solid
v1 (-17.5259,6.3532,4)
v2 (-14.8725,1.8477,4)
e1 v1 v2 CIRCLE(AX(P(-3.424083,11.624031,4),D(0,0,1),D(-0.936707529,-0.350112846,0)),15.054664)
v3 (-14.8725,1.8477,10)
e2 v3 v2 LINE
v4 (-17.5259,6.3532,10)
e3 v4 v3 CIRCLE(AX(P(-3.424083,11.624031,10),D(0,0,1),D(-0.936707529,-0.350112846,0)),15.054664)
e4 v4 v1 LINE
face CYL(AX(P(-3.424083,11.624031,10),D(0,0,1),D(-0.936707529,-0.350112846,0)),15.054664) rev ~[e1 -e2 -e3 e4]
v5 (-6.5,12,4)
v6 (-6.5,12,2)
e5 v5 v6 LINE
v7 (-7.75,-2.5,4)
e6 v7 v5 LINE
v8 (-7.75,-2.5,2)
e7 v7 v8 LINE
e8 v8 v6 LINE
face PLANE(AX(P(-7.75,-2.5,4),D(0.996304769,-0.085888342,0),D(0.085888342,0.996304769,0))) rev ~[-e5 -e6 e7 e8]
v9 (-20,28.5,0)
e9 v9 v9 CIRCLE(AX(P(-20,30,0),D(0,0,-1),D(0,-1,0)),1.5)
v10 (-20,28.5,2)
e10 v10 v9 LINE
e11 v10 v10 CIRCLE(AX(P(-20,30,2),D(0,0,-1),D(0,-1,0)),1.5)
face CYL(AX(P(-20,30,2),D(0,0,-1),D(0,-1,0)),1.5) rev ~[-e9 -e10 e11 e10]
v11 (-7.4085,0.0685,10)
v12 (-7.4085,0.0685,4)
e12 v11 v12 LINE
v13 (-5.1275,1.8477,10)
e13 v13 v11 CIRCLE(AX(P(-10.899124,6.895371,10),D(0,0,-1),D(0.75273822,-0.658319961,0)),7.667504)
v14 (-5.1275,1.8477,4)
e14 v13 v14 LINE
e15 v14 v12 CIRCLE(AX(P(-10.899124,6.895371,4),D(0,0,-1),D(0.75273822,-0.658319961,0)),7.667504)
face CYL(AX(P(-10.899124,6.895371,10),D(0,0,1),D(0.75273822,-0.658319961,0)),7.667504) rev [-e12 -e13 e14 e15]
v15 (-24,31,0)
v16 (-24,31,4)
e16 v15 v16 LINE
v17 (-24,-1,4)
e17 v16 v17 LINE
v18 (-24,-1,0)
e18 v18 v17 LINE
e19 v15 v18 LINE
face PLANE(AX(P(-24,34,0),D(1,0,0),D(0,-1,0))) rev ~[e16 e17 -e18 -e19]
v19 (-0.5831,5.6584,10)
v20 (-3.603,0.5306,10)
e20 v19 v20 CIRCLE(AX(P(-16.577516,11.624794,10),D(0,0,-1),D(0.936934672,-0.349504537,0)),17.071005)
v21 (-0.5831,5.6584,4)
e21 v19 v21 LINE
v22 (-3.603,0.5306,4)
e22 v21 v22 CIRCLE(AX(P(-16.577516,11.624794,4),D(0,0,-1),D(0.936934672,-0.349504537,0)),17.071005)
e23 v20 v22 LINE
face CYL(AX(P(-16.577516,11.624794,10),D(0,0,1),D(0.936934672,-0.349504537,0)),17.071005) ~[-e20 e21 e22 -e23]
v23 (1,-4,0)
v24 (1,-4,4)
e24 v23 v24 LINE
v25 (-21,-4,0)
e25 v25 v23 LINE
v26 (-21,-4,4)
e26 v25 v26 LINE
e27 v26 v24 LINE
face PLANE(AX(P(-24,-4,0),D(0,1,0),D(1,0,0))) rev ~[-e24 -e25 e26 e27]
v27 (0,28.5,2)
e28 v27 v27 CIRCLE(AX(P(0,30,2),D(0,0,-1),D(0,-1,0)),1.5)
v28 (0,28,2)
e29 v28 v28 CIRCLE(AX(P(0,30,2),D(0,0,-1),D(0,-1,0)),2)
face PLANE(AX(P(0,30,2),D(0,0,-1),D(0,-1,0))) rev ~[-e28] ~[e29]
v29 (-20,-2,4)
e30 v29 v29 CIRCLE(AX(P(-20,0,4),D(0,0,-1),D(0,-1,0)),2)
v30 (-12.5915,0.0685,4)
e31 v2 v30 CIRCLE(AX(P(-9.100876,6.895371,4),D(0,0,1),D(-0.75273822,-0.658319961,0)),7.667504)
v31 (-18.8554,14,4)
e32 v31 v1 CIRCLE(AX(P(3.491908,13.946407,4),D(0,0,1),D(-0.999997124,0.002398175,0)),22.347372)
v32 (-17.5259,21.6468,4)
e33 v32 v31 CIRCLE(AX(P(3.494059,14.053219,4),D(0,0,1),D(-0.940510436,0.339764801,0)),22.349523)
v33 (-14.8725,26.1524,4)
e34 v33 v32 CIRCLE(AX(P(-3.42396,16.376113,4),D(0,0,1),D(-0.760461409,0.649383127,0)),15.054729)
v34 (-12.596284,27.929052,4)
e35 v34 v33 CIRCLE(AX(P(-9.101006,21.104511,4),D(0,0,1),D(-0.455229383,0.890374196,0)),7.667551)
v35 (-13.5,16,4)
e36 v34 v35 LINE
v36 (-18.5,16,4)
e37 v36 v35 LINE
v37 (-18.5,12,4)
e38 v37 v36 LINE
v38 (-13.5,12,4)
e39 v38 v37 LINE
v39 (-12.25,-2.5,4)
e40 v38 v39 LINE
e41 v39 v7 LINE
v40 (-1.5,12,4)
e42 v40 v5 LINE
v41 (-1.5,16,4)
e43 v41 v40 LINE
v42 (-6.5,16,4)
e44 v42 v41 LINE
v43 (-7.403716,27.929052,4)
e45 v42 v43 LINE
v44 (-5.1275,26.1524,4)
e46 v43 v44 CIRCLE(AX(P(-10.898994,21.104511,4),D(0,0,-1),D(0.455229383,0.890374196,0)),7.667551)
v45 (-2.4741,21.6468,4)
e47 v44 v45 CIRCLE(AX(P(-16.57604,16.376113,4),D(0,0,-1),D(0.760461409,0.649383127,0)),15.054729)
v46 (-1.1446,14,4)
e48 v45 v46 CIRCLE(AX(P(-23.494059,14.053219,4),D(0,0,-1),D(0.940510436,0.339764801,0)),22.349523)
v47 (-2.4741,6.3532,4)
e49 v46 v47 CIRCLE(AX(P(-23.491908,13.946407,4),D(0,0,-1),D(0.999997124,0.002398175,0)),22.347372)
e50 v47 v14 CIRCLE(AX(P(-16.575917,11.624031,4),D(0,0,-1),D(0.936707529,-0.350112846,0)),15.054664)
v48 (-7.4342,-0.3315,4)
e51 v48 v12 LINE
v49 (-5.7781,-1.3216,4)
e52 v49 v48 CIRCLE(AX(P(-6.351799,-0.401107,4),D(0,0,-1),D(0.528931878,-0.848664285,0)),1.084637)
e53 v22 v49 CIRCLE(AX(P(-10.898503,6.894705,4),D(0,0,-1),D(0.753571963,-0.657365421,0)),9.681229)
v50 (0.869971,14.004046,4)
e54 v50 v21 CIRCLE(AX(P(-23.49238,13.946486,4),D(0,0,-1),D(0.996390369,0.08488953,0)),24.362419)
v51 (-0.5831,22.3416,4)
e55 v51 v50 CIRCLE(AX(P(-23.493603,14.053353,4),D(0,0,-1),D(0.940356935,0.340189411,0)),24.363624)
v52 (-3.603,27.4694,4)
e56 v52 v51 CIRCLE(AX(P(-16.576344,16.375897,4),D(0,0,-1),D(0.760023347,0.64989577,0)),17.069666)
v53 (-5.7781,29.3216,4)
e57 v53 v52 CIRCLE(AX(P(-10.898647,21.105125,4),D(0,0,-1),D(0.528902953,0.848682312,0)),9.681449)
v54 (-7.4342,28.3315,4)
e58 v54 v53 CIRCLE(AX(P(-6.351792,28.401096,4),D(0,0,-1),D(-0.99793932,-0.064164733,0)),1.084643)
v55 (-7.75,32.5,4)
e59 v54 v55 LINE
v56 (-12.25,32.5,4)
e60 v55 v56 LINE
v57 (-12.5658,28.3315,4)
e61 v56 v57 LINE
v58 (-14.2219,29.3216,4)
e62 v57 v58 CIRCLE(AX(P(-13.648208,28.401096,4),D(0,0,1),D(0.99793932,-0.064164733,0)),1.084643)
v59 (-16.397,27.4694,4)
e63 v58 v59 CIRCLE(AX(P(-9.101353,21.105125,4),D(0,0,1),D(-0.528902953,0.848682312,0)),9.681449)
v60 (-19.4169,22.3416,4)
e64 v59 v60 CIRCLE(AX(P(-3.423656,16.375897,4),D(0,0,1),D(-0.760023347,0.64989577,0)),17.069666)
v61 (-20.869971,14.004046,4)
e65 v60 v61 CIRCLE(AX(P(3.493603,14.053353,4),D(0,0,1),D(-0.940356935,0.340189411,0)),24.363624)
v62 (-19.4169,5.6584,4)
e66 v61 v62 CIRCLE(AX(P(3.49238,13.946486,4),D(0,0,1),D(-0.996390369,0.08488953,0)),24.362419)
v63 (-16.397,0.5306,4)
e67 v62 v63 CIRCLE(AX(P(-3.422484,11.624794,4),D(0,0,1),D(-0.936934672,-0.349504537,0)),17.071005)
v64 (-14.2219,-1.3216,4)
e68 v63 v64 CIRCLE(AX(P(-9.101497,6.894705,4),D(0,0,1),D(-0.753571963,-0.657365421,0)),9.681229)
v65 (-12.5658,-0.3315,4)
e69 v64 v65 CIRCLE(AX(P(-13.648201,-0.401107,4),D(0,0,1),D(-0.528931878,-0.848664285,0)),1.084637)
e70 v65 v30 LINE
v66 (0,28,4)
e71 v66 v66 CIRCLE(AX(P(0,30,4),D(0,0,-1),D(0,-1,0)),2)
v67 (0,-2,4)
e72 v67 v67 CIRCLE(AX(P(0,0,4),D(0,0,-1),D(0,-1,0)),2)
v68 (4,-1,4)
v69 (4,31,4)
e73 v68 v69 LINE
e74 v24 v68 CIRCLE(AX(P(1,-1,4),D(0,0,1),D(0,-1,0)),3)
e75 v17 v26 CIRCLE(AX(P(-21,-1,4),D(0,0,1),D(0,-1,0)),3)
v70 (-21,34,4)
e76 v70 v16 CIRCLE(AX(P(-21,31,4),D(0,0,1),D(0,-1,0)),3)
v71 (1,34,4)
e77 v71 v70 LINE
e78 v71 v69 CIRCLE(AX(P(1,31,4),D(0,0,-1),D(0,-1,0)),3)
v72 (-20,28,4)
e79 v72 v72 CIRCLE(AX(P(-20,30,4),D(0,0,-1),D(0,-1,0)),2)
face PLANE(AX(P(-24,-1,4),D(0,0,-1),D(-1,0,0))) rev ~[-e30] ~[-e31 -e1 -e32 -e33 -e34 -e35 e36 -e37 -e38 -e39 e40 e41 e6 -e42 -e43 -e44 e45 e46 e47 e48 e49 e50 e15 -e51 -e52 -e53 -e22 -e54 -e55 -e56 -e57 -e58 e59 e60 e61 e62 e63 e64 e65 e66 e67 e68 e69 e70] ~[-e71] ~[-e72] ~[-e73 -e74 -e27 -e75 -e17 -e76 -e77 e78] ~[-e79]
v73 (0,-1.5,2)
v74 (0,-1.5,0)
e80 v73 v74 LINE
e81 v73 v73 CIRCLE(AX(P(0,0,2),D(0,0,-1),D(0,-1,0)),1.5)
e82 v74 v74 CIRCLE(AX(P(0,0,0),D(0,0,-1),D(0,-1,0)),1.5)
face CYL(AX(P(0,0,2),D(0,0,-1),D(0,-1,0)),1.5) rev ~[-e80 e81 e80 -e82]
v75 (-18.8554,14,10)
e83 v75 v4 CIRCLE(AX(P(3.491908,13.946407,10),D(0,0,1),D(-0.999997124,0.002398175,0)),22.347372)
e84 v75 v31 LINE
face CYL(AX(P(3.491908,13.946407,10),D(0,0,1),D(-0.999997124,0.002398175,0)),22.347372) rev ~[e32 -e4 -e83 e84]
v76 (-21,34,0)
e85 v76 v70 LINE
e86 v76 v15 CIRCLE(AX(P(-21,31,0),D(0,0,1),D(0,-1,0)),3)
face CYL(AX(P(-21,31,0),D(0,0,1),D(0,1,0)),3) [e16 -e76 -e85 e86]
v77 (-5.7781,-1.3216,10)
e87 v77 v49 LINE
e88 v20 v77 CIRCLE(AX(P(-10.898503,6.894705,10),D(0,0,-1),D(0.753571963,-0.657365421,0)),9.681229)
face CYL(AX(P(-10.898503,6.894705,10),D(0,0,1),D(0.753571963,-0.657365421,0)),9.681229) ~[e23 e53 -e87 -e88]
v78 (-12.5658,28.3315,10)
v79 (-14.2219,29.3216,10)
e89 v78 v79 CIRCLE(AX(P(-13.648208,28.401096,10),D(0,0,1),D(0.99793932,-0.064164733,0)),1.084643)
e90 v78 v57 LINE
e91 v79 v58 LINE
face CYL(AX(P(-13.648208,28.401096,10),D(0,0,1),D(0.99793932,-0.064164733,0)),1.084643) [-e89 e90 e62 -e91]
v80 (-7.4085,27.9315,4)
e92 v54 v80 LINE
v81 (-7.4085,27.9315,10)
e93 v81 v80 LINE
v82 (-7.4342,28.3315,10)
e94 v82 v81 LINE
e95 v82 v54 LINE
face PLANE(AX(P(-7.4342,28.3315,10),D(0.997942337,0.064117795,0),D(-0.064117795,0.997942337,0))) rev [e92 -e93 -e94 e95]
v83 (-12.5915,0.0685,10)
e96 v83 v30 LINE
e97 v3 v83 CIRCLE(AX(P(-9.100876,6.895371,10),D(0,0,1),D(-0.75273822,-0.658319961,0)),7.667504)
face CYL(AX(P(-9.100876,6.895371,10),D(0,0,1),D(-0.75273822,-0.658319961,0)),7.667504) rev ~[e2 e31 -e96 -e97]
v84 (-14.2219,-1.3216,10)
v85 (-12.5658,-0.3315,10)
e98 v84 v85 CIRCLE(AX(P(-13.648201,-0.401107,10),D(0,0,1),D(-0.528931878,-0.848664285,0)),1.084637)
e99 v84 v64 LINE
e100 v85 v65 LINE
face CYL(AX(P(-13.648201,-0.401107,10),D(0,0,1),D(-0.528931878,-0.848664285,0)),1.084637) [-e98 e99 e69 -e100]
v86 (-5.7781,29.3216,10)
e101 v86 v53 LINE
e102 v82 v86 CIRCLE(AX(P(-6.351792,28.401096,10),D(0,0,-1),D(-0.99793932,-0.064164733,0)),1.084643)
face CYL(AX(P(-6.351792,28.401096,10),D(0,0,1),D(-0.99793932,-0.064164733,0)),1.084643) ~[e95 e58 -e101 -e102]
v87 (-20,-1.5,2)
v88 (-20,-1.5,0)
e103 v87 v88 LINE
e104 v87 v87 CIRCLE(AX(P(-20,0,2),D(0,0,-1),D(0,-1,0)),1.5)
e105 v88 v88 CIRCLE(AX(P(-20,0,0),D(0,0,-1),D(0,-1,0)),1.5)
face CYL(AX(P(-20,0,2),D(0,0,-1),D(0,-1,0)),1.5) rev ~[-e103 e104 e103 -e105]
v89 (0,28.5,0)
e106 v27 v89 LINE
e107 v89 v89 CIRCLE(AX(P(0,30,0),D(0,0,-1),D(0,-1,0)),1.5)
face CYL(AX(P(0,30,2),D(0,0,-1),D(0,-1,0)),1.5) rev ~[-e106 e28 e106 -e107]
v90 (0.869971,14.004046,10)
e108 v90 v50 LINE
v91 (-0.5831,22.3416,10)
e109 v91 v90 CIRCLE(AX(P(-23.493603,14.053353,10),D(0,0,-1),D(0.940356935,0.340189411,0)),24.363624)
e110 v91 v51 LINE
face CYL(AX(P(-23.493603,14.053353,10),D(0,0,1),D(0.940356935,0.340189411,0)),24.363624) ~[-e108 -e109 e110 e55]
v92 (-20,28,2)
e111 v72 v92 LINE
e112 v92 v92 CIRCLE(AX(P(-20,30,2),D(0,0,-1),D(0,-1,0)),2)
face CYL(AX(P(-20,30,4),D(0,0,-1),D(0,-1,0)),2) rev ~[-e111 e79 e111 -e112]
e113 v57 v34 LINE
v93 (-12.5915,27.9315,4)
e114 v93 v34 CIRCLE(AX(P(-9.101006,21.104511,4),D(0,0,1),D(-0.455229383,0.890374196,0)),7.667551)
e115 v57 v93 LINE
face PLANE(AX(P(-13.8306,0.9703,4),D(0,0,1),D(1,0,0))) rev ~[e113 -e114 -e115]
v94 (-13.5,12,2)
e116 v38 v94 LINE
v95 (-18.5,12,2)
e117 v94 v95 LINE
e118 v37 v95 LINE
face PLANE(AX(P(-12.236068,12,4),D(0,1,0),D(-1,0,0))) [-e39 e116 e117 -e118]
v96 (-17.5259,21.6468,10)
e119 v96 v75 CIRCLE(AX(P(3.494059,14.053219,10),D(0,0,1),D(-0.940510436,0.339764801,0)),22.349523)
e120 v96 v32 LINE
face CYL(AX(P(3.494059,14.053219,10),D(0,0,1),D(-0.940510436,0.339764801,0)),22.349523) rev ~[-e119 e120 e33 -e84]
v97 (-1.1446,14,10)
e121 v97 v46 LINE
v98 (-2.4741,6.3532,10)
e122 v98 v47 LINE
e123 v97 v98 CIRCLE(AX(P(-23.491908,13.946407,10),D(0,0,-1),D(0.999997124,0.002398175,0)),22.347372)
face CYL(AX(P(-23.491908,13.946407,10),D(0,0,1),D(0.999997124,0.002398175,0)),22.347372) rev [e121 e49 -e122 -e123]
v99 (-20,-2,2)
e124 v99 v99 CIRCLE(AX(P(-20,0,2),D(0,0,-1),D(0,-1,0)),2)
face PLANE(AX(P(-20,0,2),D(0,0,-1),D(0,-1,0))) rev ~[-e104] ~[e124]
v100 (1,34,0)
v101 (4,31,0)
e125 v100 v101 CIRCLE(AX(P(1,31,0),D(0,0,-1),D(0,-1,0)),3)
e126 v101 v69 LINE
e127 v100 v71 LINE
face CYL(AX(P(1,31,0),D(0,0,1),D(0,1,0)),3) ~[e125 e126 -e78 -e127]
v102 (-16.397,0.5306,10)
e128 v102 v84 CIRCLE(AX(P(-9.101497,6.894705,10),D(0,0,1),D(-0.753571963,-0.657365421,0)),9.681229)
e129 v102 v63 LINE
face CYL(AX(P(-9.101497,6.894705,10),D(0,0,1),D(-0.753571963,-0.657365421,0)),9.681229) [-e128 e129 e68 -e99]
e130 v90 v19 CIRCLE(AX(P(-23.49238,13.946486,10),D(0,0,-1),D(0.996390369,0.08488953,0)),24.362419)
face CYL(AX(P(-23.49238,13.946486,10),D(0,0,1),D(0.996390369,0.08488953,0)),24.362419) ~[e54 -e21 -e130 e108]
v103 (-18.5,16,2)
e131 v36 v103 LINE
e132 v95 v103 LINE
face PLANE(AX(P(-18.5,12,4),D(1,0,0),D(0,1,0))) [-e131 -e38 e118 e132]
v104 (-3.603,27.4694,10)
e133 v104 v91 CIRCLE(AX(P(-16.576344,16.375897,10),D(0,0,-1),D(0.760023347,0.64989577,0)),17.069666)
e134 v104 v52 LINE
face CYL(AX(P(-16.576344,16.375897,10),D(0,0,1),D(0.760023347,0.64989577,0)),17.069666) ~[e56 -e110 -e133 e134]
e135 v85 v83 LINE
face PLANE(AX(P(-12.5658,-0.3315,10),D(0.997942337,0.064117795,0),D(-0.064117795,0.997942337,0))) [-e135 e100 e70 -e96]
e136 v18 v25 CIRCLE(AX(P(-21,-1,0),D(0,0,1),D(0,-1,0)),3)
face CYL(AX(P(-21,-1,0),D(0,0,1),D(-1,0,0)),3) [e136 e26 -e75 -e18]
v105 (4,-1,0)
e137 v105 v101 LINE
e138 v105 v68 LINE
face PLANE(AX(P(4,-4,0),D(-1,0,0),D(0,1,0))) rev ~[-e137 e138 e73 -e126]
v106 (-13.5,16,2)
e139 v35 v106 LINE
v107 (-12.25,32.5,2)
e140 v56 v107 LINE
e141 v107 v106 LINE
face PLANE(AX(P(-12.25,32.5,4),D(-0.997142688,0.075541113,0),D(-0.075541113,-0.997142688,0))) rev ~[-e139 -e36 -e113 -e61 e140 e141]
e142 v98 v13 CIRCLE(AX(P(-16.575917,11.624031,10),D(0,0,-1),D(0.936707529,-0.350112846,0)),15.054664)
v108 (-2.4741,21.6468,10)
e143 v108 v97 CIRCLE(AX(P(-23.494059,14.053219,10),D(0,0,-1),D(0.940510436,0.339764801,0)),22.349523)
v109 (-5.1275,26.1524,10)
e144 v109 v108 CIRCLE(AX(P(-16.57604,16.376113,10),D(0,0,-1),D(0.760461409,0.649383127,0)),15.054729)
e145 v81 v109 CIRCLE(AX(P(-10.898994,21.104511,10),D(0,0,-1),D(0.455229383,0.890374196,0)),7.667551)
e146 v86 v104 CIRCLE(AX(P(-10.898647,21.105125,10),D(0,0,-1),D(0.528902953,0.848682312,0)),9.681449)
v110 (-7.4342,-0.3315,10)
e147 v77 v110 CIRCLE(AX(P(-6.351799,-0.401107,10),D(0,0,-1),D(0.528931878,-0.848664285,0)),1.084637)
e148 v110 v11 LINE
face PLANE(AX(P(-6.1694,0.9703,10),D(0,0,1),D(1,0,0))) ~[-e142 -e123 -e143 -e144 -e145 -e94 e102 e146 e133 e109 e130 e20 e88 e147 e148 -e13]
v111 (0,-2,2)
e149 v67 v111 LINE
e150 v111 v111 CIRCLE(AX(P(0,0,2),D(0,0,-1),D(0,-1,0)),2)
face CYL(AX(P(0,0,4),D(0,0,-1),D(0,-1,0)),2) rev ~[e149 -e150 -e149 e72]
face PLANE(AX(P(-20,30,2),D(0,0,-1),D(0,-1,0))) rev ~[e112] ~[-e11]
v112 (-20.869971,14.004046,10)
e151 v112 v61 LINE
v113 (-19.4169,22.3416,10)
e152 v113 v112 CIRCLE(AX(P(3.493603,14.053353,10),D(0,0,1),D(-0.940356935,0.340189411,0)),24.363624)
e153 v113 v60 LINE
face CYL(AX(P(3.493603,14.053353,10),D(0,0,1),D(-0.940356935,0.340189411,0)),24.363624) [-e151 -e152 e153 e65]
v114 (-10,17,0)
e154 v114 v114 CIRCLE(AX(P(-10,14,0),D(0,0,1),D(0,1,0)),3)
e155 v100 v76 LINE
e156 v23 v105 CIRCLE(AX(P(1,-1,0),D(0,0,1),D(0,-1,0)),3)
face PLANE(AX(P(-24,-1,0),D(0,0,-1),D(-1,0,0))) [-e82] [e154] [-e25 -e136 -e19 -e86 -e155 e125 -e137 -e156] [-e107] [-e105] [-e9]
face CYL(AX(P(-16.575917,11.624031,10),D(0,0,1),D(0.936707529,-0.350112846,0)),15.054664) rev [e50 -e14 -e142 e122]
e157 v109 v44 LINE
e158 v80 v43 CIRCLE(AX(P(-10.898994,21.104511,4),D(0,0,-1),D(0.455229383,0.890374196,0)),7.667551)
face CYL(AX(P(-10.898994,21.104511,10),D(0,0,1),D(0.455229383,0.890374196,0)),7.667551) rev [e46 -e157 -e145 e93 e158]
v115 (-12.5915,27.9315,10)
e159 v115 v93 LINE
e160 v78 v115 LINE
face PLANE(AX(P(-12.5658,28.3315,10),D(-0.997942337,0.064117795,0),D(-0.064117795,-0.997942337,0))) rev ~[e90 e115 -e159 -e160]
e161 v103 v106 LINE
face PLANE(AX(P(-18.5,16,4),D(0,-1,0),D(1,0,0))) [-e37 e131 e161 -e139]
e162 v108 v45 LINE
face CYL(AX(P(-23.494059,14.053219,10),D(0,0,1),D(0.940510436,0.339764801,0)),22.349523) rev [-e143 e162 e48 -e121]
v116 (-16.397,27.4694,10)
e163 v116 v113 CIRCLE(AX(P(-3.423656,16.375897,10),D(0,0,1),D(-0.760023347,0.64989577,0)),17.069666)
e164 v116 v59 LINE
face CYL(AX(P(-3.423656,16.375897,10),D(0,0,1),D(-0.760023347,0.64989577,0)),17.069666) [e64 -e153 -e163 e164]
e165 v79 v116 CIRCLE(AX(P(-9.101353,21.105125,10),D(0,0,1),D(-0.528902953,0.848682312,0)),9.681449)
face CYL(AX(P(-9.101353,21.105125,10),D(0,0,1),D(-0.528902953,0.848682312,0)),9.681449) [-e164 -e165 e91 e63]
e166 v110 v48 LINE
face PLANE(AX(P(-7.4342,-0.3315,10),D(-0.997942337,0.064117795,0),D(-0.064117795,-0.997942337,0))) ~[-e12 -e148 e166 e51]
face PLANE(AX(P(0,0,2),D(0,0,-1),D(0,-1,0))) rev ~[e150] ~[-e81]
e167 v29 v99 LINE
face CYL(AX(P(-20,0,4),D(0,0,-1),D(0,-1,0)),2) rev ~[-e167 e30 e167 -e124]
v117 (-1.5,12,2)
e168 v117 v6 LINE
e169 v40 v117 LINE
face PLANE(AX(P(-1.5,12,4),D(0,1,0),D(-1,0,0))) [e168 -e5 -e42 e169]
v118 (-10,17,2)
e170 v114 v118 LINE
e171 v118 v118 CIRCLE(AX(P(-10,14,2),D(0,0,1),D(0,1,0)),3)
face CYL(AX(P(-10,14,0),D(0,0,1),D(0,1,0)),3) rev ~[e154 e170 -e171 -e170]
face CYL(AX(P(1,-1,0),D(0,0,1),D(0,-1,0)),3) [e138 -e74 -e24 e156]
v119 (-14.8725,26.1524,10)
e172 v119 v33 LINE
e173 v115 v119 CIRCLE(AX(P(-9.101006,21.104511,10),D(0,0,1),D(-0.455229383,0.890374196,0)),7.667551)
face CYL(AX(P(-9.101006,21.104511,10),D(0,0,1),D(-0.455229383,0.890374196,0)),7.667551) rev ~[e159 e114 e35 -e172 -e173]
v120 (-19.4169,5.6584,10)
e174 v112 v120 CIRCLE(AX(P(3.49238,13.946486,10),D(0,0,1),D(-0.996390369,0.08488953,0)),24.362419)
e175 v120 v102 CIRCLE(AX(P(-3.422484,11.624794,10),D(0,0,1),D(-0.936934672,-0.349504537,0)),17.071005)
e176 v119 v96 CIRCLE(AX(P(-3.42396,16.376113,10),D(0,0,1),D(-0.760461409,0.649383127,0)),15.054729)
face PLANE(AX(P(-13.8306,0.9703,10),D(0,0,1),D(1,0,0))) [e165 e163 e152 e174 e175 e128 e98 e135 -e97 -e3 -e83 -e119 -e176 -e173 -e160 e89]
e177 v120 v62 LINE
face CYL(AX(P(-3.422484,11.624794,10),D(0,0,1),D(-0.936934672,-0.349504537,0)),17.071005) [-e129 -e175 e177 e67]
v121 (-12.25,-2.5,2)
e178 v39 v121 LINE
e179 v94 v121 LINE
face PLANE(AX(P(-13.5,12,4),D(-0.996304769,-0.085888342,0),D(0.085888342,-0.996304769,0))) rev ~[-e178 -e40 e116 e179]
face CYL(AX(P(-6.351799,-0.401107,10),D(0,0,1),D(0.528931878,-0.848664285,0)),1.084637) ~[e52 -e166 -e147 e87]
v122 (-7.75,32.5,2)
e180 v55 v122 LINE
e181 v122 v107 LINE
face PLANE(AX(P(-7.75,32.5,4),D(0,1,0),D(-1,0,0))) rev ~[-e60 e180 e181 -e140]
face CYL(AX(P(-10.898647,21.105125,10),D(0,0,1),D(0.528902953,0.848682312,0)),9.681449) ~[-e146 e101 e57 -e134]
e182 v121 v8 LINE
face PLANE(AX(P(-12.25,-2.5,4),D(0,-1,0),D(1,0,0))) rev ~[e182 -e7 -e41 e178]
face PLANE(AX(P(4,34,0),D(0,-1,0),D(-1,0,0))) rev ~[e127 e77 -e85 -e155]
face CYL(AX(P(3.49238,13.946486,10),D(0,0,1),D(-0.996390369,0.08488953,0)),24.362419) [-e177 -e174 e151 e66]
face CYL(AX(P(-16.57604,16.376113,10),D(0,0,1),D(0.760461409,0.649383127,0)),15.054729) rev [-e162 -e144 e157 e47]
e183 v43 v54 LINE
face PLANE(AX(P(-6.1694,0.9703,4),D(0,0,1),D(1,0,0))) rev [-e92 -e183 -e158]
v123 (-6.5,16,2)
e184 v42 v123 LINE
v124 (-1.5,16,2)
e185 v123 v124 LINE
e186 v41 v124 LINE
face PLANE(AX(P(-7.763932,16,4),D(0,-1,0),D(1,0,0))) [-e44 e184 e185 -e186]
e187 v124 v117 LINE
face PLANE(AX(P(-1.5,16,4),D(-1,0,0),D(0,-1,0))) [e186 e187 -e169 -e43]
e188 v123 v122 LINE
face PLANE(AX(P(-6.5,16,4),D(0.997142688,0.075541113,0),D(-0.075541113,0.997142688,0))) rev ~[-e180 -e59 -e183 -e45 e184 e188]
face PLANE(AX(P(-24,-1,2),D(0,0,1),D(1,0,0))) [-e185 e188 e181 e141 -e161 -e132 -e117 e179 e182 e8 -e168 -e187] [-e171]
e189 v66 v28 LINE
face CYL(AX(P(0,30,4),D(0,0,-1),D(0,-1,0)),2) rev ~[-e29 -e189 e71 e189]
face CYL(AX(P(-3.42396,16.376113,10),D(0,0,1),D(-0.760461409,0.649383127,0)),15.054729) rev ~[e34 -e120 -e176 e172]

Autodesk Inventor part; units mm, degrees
ref_plane "YZ Plane" through (0, 0, 0) normal (1, 0, 0) x (0, 1, 0)
ref_plane "XZ Plane" through (0, 0, 0) normal (0, 1, 0) x (-1, 0, 0)
sketch "Boceto5" plane through (-24, -1, 0) normal (0, 0, -1) x (-1, 0, 0)
  line L0 (-28, 35) -> (0, 35)
  line L1 (0, 35) -> (0, -3)
  line L2 (0, -3) -> (-28, -3)
  line L3 (-28, -3) -> (-28, 35)
  point P0 (-24, 1)
  point P1 (0, 0)
  dimension "d3" = 28
  dimension "d4" = 3
  dimension "d5" = 35
extrude "Extrusión2" add sketch "Boceto5" against normal blind 4
fillet "Empalme1" radius 3 4 edges at (-24, -4, 2) (4, -4, 2) (4, 34, 2) (-24, 34, 2)
sketch "Boceto6" plane through (-24, -1, 4) normal (0, 0, 1) x (1, 0, 0)
  line L0 (25, 35) -> (3, 35) construction
  line L1 (0, 32) -> (0, 0) construction
  point P0 (24, 1)
  point P1 (4, 31)
  dimension "d9" = 4
  dimension "d10" = 4
hole "Agujero1" at (-20, 30, 4) direction (0, 0, -1) diameter 3 end through all counterbore diameter 4 counterbore depth 2
pattern_linear "Patrón rectangular1" count 2 spacing 20 along (1, 0, 0) count 2 spacing 30 along (0, -1, 0) of "Agujero1"
sketch "Boceto7" plane through (-24, -1, 0) normal (0, 0, -1) x (-1, 0, 0)
  line L0 (-3, 35) -> (-25, 35) projected
  line L1 (-28, 32) -> (-28, 0) projected
  point P0 (-24, 1)
  point P1 (-14, 15)
  dimension "d24" = 20
  dimension "d25" = 14
hole "Agujero2" at (-10, 14, 0) direction (0, 0, 1) diameter 6 end through all
sketch "Boceto8" plane through (-24, -1, 4) normal (0, 0, 1) x (1, 0, 0)
  line L0 (5.5, 17) -> (22.5, 17)
  line L1 (22.5, 17) -> (22.5, 13)
  line L2 (22.5, 13) -> (5.5, 13)
  line L3 (5.5, 13) -> (5.5, 17)
  circle A0 centre (14, 15) radius 3 projected
  line L4 (5.5, 17) -> (22.5, 13) construction
  line L5 (22.5, 17) -> (5.5, 13) construction
  point P0 (24, 1)
  point P1 (11.7639, 13)
  point P2 (11.7639, 17)
  point P3 (16.2361, 17)
  point P4 (16.2361, 13)
  dimension "d33" = 17
  dimension "d34" = 4
extrude "Extrusión3" cut sketch "Boceto8" against normal blind 2 contours L0 A0 L2 L3 | L0 L1 L2 A0
sketch "Boceto9" plane through (-24, -1, 4) normal (0, 0, 1) x (1, 0, 0)
  line L0 (11.7639, 13) -> (5.5, 13) construction
  line L1 (10.5, 13) -> (11.75, -1.5)
  line L2 (11.75, -1.5) -> (16.25, -1.5)
  line L3 (16.25, -1.5) -> (17.5, 13)
  line L4 (17.5, 13) -> (10.5, 13)
  line L5 (0, 32) -> (0, 0) projected
  point P0 (24, 1)
  dimension "d37" = 14.5
  dimension "d38" = 4.5
  dimension "d39" = 10.5
  dimension "d40" = 7
  dimension "d41" = 1.25
extrude "Extrusión4" cut sketch "Boceto9" against normal blind 2
sketch "Boceto11" plane through (-24, -1, 4) normal (0, 0, 1) x (1, 0, 0)
  line L0 (5.5, 17) -> (11.7639, 17) construction
  line L1 (10.5, 17) -> (17.5, 17)
  line L2 (17.5, 17) -> (16.25, 33.5)
  line L3 (16.25, 33.5) -> (11.75, 33.5)
  line L4 (11.75, 33.5) -> (10.5, 17)
  point P0 (24, 1)
  dimension "d44" = 16.5
  dimension "d46" = 5
  dimension "d47" = 1.25
  dimension "d48" = 7
extrude "Extrusión5" cut sketch "Boceto11" against normal blind 2
sketch "Boceto15" plane through (-13.8306, 0.9703, 10) normal (0, 0, 1) x (1, 0, 0)
  circle A0 centre (17.3236, 13.0832) radius 22.3484 construction
  circle A1 centre (4.7289, 20.1353) radius 7.5795 construction
  circle A2 centre (10.4075, 15.4052) radius 15.0152 construction
  arc A3 (-3.6953, 20.6765) -> (-5.0248, 13.0297) centre (17.3236, 13.0832) ccw
  arc A4 (-1.0419, 25.1821) -> (-3.6953, 20.6765) centre (10.4075, 15.4052) ccw
  arc A5 (1.2391, 26.9612) -> (-1.0419, 25.1821) centre (4.7289, 20.1353) ccw
  circle A6 centre (3.8306, 13.0297) radius 3 construction
  line L0 (3.8306, 13.0297) -> (-5.0248, 13.0297) construction
  line L1 (3.8306, 11.0151) -> (-6.9515, 11.0151) construction
  arc A7 (-5.5863, 21.3713) -> (-6.9515, 11.0151) centre (17.3236, 13.0832) ccw
  arc A8 (-2.5664, 26.4991) -> (-5.5863, 21.3713) centre (10.4075, 15.4052) ccw
  arc A9 (-0.3913, 28.3513) -> (-2.5664, 26.4991) centre (4.7289, 20.1353) ccw
  line L2 (0.3306, 15.0297) -> (1.5806, 31.5297) construction
  arc A10 (1.2648, 27.3612) -> (-0.3913, 28.3513) centre (0.1824, 27.4308) ccw
  line L3 (1.2648, 27.3612) -> (1.2391, 26.9612)
  arc A11 (-5.0248, 13.0297) -> (-3.6953, 5.3829) centre (17.3236, 12.9762) ccw
  arc A12 (-3.6953, 5.3829) -> (-1.0419, 0.8774) centre (10.4075, 10.6542) ccw
  arc A13 (-1.0419, 0.8774) -> (1.2391, -0.9018) centre (4.7289, 5.9242) ccw
  line L4 (3.8306, 15.0443) -> (-6.9515, 15.0443) construction
  arc A14 (-6.9515, 15.0443) -> (-5.5863, 4.6881) centre (17.3236, 12.9762) ccw
  arc A15 (-5.5863, 4.6881) -> (-2.5664, -0.4397) centre (10.4075, 10.6542) ccw
  arc A16 (-2.5664, -0.4397) -> (-0.3913, -2.2919) centre (4.7289, 5.9242) ccw
  arc A17 (-0.3913, -2.2919) -> (1.2648, -1.3018) centre (0.1824, -1.3713) ccw
  line L5 (1.2648, -1.3018) -> (1.2391, -0.9018)
  point P0 (13.8306, -0.9703)
  point P1 (0.3306, 11.0297)
  point P2 (-7.0394, 13.0297)
  dimension "d51" = 20
  dimension "d52" = 20
  dimension "d53" = 21.75
  dimension "d55" = 1.9267
  dimension "d56" = 0.4
extrude "Extrusión6" add sketch "Boceto15" against normal blind 6
ref_plane "Plano de trabajo2" through (-10, 12, 4) normal (1, 0, 0) x (0, 0, -1)
mirror "Simetría2" about plane through (-10, 12, 4) normal (1, 0, 0) of "Extrusión6"
properties part number "base"
